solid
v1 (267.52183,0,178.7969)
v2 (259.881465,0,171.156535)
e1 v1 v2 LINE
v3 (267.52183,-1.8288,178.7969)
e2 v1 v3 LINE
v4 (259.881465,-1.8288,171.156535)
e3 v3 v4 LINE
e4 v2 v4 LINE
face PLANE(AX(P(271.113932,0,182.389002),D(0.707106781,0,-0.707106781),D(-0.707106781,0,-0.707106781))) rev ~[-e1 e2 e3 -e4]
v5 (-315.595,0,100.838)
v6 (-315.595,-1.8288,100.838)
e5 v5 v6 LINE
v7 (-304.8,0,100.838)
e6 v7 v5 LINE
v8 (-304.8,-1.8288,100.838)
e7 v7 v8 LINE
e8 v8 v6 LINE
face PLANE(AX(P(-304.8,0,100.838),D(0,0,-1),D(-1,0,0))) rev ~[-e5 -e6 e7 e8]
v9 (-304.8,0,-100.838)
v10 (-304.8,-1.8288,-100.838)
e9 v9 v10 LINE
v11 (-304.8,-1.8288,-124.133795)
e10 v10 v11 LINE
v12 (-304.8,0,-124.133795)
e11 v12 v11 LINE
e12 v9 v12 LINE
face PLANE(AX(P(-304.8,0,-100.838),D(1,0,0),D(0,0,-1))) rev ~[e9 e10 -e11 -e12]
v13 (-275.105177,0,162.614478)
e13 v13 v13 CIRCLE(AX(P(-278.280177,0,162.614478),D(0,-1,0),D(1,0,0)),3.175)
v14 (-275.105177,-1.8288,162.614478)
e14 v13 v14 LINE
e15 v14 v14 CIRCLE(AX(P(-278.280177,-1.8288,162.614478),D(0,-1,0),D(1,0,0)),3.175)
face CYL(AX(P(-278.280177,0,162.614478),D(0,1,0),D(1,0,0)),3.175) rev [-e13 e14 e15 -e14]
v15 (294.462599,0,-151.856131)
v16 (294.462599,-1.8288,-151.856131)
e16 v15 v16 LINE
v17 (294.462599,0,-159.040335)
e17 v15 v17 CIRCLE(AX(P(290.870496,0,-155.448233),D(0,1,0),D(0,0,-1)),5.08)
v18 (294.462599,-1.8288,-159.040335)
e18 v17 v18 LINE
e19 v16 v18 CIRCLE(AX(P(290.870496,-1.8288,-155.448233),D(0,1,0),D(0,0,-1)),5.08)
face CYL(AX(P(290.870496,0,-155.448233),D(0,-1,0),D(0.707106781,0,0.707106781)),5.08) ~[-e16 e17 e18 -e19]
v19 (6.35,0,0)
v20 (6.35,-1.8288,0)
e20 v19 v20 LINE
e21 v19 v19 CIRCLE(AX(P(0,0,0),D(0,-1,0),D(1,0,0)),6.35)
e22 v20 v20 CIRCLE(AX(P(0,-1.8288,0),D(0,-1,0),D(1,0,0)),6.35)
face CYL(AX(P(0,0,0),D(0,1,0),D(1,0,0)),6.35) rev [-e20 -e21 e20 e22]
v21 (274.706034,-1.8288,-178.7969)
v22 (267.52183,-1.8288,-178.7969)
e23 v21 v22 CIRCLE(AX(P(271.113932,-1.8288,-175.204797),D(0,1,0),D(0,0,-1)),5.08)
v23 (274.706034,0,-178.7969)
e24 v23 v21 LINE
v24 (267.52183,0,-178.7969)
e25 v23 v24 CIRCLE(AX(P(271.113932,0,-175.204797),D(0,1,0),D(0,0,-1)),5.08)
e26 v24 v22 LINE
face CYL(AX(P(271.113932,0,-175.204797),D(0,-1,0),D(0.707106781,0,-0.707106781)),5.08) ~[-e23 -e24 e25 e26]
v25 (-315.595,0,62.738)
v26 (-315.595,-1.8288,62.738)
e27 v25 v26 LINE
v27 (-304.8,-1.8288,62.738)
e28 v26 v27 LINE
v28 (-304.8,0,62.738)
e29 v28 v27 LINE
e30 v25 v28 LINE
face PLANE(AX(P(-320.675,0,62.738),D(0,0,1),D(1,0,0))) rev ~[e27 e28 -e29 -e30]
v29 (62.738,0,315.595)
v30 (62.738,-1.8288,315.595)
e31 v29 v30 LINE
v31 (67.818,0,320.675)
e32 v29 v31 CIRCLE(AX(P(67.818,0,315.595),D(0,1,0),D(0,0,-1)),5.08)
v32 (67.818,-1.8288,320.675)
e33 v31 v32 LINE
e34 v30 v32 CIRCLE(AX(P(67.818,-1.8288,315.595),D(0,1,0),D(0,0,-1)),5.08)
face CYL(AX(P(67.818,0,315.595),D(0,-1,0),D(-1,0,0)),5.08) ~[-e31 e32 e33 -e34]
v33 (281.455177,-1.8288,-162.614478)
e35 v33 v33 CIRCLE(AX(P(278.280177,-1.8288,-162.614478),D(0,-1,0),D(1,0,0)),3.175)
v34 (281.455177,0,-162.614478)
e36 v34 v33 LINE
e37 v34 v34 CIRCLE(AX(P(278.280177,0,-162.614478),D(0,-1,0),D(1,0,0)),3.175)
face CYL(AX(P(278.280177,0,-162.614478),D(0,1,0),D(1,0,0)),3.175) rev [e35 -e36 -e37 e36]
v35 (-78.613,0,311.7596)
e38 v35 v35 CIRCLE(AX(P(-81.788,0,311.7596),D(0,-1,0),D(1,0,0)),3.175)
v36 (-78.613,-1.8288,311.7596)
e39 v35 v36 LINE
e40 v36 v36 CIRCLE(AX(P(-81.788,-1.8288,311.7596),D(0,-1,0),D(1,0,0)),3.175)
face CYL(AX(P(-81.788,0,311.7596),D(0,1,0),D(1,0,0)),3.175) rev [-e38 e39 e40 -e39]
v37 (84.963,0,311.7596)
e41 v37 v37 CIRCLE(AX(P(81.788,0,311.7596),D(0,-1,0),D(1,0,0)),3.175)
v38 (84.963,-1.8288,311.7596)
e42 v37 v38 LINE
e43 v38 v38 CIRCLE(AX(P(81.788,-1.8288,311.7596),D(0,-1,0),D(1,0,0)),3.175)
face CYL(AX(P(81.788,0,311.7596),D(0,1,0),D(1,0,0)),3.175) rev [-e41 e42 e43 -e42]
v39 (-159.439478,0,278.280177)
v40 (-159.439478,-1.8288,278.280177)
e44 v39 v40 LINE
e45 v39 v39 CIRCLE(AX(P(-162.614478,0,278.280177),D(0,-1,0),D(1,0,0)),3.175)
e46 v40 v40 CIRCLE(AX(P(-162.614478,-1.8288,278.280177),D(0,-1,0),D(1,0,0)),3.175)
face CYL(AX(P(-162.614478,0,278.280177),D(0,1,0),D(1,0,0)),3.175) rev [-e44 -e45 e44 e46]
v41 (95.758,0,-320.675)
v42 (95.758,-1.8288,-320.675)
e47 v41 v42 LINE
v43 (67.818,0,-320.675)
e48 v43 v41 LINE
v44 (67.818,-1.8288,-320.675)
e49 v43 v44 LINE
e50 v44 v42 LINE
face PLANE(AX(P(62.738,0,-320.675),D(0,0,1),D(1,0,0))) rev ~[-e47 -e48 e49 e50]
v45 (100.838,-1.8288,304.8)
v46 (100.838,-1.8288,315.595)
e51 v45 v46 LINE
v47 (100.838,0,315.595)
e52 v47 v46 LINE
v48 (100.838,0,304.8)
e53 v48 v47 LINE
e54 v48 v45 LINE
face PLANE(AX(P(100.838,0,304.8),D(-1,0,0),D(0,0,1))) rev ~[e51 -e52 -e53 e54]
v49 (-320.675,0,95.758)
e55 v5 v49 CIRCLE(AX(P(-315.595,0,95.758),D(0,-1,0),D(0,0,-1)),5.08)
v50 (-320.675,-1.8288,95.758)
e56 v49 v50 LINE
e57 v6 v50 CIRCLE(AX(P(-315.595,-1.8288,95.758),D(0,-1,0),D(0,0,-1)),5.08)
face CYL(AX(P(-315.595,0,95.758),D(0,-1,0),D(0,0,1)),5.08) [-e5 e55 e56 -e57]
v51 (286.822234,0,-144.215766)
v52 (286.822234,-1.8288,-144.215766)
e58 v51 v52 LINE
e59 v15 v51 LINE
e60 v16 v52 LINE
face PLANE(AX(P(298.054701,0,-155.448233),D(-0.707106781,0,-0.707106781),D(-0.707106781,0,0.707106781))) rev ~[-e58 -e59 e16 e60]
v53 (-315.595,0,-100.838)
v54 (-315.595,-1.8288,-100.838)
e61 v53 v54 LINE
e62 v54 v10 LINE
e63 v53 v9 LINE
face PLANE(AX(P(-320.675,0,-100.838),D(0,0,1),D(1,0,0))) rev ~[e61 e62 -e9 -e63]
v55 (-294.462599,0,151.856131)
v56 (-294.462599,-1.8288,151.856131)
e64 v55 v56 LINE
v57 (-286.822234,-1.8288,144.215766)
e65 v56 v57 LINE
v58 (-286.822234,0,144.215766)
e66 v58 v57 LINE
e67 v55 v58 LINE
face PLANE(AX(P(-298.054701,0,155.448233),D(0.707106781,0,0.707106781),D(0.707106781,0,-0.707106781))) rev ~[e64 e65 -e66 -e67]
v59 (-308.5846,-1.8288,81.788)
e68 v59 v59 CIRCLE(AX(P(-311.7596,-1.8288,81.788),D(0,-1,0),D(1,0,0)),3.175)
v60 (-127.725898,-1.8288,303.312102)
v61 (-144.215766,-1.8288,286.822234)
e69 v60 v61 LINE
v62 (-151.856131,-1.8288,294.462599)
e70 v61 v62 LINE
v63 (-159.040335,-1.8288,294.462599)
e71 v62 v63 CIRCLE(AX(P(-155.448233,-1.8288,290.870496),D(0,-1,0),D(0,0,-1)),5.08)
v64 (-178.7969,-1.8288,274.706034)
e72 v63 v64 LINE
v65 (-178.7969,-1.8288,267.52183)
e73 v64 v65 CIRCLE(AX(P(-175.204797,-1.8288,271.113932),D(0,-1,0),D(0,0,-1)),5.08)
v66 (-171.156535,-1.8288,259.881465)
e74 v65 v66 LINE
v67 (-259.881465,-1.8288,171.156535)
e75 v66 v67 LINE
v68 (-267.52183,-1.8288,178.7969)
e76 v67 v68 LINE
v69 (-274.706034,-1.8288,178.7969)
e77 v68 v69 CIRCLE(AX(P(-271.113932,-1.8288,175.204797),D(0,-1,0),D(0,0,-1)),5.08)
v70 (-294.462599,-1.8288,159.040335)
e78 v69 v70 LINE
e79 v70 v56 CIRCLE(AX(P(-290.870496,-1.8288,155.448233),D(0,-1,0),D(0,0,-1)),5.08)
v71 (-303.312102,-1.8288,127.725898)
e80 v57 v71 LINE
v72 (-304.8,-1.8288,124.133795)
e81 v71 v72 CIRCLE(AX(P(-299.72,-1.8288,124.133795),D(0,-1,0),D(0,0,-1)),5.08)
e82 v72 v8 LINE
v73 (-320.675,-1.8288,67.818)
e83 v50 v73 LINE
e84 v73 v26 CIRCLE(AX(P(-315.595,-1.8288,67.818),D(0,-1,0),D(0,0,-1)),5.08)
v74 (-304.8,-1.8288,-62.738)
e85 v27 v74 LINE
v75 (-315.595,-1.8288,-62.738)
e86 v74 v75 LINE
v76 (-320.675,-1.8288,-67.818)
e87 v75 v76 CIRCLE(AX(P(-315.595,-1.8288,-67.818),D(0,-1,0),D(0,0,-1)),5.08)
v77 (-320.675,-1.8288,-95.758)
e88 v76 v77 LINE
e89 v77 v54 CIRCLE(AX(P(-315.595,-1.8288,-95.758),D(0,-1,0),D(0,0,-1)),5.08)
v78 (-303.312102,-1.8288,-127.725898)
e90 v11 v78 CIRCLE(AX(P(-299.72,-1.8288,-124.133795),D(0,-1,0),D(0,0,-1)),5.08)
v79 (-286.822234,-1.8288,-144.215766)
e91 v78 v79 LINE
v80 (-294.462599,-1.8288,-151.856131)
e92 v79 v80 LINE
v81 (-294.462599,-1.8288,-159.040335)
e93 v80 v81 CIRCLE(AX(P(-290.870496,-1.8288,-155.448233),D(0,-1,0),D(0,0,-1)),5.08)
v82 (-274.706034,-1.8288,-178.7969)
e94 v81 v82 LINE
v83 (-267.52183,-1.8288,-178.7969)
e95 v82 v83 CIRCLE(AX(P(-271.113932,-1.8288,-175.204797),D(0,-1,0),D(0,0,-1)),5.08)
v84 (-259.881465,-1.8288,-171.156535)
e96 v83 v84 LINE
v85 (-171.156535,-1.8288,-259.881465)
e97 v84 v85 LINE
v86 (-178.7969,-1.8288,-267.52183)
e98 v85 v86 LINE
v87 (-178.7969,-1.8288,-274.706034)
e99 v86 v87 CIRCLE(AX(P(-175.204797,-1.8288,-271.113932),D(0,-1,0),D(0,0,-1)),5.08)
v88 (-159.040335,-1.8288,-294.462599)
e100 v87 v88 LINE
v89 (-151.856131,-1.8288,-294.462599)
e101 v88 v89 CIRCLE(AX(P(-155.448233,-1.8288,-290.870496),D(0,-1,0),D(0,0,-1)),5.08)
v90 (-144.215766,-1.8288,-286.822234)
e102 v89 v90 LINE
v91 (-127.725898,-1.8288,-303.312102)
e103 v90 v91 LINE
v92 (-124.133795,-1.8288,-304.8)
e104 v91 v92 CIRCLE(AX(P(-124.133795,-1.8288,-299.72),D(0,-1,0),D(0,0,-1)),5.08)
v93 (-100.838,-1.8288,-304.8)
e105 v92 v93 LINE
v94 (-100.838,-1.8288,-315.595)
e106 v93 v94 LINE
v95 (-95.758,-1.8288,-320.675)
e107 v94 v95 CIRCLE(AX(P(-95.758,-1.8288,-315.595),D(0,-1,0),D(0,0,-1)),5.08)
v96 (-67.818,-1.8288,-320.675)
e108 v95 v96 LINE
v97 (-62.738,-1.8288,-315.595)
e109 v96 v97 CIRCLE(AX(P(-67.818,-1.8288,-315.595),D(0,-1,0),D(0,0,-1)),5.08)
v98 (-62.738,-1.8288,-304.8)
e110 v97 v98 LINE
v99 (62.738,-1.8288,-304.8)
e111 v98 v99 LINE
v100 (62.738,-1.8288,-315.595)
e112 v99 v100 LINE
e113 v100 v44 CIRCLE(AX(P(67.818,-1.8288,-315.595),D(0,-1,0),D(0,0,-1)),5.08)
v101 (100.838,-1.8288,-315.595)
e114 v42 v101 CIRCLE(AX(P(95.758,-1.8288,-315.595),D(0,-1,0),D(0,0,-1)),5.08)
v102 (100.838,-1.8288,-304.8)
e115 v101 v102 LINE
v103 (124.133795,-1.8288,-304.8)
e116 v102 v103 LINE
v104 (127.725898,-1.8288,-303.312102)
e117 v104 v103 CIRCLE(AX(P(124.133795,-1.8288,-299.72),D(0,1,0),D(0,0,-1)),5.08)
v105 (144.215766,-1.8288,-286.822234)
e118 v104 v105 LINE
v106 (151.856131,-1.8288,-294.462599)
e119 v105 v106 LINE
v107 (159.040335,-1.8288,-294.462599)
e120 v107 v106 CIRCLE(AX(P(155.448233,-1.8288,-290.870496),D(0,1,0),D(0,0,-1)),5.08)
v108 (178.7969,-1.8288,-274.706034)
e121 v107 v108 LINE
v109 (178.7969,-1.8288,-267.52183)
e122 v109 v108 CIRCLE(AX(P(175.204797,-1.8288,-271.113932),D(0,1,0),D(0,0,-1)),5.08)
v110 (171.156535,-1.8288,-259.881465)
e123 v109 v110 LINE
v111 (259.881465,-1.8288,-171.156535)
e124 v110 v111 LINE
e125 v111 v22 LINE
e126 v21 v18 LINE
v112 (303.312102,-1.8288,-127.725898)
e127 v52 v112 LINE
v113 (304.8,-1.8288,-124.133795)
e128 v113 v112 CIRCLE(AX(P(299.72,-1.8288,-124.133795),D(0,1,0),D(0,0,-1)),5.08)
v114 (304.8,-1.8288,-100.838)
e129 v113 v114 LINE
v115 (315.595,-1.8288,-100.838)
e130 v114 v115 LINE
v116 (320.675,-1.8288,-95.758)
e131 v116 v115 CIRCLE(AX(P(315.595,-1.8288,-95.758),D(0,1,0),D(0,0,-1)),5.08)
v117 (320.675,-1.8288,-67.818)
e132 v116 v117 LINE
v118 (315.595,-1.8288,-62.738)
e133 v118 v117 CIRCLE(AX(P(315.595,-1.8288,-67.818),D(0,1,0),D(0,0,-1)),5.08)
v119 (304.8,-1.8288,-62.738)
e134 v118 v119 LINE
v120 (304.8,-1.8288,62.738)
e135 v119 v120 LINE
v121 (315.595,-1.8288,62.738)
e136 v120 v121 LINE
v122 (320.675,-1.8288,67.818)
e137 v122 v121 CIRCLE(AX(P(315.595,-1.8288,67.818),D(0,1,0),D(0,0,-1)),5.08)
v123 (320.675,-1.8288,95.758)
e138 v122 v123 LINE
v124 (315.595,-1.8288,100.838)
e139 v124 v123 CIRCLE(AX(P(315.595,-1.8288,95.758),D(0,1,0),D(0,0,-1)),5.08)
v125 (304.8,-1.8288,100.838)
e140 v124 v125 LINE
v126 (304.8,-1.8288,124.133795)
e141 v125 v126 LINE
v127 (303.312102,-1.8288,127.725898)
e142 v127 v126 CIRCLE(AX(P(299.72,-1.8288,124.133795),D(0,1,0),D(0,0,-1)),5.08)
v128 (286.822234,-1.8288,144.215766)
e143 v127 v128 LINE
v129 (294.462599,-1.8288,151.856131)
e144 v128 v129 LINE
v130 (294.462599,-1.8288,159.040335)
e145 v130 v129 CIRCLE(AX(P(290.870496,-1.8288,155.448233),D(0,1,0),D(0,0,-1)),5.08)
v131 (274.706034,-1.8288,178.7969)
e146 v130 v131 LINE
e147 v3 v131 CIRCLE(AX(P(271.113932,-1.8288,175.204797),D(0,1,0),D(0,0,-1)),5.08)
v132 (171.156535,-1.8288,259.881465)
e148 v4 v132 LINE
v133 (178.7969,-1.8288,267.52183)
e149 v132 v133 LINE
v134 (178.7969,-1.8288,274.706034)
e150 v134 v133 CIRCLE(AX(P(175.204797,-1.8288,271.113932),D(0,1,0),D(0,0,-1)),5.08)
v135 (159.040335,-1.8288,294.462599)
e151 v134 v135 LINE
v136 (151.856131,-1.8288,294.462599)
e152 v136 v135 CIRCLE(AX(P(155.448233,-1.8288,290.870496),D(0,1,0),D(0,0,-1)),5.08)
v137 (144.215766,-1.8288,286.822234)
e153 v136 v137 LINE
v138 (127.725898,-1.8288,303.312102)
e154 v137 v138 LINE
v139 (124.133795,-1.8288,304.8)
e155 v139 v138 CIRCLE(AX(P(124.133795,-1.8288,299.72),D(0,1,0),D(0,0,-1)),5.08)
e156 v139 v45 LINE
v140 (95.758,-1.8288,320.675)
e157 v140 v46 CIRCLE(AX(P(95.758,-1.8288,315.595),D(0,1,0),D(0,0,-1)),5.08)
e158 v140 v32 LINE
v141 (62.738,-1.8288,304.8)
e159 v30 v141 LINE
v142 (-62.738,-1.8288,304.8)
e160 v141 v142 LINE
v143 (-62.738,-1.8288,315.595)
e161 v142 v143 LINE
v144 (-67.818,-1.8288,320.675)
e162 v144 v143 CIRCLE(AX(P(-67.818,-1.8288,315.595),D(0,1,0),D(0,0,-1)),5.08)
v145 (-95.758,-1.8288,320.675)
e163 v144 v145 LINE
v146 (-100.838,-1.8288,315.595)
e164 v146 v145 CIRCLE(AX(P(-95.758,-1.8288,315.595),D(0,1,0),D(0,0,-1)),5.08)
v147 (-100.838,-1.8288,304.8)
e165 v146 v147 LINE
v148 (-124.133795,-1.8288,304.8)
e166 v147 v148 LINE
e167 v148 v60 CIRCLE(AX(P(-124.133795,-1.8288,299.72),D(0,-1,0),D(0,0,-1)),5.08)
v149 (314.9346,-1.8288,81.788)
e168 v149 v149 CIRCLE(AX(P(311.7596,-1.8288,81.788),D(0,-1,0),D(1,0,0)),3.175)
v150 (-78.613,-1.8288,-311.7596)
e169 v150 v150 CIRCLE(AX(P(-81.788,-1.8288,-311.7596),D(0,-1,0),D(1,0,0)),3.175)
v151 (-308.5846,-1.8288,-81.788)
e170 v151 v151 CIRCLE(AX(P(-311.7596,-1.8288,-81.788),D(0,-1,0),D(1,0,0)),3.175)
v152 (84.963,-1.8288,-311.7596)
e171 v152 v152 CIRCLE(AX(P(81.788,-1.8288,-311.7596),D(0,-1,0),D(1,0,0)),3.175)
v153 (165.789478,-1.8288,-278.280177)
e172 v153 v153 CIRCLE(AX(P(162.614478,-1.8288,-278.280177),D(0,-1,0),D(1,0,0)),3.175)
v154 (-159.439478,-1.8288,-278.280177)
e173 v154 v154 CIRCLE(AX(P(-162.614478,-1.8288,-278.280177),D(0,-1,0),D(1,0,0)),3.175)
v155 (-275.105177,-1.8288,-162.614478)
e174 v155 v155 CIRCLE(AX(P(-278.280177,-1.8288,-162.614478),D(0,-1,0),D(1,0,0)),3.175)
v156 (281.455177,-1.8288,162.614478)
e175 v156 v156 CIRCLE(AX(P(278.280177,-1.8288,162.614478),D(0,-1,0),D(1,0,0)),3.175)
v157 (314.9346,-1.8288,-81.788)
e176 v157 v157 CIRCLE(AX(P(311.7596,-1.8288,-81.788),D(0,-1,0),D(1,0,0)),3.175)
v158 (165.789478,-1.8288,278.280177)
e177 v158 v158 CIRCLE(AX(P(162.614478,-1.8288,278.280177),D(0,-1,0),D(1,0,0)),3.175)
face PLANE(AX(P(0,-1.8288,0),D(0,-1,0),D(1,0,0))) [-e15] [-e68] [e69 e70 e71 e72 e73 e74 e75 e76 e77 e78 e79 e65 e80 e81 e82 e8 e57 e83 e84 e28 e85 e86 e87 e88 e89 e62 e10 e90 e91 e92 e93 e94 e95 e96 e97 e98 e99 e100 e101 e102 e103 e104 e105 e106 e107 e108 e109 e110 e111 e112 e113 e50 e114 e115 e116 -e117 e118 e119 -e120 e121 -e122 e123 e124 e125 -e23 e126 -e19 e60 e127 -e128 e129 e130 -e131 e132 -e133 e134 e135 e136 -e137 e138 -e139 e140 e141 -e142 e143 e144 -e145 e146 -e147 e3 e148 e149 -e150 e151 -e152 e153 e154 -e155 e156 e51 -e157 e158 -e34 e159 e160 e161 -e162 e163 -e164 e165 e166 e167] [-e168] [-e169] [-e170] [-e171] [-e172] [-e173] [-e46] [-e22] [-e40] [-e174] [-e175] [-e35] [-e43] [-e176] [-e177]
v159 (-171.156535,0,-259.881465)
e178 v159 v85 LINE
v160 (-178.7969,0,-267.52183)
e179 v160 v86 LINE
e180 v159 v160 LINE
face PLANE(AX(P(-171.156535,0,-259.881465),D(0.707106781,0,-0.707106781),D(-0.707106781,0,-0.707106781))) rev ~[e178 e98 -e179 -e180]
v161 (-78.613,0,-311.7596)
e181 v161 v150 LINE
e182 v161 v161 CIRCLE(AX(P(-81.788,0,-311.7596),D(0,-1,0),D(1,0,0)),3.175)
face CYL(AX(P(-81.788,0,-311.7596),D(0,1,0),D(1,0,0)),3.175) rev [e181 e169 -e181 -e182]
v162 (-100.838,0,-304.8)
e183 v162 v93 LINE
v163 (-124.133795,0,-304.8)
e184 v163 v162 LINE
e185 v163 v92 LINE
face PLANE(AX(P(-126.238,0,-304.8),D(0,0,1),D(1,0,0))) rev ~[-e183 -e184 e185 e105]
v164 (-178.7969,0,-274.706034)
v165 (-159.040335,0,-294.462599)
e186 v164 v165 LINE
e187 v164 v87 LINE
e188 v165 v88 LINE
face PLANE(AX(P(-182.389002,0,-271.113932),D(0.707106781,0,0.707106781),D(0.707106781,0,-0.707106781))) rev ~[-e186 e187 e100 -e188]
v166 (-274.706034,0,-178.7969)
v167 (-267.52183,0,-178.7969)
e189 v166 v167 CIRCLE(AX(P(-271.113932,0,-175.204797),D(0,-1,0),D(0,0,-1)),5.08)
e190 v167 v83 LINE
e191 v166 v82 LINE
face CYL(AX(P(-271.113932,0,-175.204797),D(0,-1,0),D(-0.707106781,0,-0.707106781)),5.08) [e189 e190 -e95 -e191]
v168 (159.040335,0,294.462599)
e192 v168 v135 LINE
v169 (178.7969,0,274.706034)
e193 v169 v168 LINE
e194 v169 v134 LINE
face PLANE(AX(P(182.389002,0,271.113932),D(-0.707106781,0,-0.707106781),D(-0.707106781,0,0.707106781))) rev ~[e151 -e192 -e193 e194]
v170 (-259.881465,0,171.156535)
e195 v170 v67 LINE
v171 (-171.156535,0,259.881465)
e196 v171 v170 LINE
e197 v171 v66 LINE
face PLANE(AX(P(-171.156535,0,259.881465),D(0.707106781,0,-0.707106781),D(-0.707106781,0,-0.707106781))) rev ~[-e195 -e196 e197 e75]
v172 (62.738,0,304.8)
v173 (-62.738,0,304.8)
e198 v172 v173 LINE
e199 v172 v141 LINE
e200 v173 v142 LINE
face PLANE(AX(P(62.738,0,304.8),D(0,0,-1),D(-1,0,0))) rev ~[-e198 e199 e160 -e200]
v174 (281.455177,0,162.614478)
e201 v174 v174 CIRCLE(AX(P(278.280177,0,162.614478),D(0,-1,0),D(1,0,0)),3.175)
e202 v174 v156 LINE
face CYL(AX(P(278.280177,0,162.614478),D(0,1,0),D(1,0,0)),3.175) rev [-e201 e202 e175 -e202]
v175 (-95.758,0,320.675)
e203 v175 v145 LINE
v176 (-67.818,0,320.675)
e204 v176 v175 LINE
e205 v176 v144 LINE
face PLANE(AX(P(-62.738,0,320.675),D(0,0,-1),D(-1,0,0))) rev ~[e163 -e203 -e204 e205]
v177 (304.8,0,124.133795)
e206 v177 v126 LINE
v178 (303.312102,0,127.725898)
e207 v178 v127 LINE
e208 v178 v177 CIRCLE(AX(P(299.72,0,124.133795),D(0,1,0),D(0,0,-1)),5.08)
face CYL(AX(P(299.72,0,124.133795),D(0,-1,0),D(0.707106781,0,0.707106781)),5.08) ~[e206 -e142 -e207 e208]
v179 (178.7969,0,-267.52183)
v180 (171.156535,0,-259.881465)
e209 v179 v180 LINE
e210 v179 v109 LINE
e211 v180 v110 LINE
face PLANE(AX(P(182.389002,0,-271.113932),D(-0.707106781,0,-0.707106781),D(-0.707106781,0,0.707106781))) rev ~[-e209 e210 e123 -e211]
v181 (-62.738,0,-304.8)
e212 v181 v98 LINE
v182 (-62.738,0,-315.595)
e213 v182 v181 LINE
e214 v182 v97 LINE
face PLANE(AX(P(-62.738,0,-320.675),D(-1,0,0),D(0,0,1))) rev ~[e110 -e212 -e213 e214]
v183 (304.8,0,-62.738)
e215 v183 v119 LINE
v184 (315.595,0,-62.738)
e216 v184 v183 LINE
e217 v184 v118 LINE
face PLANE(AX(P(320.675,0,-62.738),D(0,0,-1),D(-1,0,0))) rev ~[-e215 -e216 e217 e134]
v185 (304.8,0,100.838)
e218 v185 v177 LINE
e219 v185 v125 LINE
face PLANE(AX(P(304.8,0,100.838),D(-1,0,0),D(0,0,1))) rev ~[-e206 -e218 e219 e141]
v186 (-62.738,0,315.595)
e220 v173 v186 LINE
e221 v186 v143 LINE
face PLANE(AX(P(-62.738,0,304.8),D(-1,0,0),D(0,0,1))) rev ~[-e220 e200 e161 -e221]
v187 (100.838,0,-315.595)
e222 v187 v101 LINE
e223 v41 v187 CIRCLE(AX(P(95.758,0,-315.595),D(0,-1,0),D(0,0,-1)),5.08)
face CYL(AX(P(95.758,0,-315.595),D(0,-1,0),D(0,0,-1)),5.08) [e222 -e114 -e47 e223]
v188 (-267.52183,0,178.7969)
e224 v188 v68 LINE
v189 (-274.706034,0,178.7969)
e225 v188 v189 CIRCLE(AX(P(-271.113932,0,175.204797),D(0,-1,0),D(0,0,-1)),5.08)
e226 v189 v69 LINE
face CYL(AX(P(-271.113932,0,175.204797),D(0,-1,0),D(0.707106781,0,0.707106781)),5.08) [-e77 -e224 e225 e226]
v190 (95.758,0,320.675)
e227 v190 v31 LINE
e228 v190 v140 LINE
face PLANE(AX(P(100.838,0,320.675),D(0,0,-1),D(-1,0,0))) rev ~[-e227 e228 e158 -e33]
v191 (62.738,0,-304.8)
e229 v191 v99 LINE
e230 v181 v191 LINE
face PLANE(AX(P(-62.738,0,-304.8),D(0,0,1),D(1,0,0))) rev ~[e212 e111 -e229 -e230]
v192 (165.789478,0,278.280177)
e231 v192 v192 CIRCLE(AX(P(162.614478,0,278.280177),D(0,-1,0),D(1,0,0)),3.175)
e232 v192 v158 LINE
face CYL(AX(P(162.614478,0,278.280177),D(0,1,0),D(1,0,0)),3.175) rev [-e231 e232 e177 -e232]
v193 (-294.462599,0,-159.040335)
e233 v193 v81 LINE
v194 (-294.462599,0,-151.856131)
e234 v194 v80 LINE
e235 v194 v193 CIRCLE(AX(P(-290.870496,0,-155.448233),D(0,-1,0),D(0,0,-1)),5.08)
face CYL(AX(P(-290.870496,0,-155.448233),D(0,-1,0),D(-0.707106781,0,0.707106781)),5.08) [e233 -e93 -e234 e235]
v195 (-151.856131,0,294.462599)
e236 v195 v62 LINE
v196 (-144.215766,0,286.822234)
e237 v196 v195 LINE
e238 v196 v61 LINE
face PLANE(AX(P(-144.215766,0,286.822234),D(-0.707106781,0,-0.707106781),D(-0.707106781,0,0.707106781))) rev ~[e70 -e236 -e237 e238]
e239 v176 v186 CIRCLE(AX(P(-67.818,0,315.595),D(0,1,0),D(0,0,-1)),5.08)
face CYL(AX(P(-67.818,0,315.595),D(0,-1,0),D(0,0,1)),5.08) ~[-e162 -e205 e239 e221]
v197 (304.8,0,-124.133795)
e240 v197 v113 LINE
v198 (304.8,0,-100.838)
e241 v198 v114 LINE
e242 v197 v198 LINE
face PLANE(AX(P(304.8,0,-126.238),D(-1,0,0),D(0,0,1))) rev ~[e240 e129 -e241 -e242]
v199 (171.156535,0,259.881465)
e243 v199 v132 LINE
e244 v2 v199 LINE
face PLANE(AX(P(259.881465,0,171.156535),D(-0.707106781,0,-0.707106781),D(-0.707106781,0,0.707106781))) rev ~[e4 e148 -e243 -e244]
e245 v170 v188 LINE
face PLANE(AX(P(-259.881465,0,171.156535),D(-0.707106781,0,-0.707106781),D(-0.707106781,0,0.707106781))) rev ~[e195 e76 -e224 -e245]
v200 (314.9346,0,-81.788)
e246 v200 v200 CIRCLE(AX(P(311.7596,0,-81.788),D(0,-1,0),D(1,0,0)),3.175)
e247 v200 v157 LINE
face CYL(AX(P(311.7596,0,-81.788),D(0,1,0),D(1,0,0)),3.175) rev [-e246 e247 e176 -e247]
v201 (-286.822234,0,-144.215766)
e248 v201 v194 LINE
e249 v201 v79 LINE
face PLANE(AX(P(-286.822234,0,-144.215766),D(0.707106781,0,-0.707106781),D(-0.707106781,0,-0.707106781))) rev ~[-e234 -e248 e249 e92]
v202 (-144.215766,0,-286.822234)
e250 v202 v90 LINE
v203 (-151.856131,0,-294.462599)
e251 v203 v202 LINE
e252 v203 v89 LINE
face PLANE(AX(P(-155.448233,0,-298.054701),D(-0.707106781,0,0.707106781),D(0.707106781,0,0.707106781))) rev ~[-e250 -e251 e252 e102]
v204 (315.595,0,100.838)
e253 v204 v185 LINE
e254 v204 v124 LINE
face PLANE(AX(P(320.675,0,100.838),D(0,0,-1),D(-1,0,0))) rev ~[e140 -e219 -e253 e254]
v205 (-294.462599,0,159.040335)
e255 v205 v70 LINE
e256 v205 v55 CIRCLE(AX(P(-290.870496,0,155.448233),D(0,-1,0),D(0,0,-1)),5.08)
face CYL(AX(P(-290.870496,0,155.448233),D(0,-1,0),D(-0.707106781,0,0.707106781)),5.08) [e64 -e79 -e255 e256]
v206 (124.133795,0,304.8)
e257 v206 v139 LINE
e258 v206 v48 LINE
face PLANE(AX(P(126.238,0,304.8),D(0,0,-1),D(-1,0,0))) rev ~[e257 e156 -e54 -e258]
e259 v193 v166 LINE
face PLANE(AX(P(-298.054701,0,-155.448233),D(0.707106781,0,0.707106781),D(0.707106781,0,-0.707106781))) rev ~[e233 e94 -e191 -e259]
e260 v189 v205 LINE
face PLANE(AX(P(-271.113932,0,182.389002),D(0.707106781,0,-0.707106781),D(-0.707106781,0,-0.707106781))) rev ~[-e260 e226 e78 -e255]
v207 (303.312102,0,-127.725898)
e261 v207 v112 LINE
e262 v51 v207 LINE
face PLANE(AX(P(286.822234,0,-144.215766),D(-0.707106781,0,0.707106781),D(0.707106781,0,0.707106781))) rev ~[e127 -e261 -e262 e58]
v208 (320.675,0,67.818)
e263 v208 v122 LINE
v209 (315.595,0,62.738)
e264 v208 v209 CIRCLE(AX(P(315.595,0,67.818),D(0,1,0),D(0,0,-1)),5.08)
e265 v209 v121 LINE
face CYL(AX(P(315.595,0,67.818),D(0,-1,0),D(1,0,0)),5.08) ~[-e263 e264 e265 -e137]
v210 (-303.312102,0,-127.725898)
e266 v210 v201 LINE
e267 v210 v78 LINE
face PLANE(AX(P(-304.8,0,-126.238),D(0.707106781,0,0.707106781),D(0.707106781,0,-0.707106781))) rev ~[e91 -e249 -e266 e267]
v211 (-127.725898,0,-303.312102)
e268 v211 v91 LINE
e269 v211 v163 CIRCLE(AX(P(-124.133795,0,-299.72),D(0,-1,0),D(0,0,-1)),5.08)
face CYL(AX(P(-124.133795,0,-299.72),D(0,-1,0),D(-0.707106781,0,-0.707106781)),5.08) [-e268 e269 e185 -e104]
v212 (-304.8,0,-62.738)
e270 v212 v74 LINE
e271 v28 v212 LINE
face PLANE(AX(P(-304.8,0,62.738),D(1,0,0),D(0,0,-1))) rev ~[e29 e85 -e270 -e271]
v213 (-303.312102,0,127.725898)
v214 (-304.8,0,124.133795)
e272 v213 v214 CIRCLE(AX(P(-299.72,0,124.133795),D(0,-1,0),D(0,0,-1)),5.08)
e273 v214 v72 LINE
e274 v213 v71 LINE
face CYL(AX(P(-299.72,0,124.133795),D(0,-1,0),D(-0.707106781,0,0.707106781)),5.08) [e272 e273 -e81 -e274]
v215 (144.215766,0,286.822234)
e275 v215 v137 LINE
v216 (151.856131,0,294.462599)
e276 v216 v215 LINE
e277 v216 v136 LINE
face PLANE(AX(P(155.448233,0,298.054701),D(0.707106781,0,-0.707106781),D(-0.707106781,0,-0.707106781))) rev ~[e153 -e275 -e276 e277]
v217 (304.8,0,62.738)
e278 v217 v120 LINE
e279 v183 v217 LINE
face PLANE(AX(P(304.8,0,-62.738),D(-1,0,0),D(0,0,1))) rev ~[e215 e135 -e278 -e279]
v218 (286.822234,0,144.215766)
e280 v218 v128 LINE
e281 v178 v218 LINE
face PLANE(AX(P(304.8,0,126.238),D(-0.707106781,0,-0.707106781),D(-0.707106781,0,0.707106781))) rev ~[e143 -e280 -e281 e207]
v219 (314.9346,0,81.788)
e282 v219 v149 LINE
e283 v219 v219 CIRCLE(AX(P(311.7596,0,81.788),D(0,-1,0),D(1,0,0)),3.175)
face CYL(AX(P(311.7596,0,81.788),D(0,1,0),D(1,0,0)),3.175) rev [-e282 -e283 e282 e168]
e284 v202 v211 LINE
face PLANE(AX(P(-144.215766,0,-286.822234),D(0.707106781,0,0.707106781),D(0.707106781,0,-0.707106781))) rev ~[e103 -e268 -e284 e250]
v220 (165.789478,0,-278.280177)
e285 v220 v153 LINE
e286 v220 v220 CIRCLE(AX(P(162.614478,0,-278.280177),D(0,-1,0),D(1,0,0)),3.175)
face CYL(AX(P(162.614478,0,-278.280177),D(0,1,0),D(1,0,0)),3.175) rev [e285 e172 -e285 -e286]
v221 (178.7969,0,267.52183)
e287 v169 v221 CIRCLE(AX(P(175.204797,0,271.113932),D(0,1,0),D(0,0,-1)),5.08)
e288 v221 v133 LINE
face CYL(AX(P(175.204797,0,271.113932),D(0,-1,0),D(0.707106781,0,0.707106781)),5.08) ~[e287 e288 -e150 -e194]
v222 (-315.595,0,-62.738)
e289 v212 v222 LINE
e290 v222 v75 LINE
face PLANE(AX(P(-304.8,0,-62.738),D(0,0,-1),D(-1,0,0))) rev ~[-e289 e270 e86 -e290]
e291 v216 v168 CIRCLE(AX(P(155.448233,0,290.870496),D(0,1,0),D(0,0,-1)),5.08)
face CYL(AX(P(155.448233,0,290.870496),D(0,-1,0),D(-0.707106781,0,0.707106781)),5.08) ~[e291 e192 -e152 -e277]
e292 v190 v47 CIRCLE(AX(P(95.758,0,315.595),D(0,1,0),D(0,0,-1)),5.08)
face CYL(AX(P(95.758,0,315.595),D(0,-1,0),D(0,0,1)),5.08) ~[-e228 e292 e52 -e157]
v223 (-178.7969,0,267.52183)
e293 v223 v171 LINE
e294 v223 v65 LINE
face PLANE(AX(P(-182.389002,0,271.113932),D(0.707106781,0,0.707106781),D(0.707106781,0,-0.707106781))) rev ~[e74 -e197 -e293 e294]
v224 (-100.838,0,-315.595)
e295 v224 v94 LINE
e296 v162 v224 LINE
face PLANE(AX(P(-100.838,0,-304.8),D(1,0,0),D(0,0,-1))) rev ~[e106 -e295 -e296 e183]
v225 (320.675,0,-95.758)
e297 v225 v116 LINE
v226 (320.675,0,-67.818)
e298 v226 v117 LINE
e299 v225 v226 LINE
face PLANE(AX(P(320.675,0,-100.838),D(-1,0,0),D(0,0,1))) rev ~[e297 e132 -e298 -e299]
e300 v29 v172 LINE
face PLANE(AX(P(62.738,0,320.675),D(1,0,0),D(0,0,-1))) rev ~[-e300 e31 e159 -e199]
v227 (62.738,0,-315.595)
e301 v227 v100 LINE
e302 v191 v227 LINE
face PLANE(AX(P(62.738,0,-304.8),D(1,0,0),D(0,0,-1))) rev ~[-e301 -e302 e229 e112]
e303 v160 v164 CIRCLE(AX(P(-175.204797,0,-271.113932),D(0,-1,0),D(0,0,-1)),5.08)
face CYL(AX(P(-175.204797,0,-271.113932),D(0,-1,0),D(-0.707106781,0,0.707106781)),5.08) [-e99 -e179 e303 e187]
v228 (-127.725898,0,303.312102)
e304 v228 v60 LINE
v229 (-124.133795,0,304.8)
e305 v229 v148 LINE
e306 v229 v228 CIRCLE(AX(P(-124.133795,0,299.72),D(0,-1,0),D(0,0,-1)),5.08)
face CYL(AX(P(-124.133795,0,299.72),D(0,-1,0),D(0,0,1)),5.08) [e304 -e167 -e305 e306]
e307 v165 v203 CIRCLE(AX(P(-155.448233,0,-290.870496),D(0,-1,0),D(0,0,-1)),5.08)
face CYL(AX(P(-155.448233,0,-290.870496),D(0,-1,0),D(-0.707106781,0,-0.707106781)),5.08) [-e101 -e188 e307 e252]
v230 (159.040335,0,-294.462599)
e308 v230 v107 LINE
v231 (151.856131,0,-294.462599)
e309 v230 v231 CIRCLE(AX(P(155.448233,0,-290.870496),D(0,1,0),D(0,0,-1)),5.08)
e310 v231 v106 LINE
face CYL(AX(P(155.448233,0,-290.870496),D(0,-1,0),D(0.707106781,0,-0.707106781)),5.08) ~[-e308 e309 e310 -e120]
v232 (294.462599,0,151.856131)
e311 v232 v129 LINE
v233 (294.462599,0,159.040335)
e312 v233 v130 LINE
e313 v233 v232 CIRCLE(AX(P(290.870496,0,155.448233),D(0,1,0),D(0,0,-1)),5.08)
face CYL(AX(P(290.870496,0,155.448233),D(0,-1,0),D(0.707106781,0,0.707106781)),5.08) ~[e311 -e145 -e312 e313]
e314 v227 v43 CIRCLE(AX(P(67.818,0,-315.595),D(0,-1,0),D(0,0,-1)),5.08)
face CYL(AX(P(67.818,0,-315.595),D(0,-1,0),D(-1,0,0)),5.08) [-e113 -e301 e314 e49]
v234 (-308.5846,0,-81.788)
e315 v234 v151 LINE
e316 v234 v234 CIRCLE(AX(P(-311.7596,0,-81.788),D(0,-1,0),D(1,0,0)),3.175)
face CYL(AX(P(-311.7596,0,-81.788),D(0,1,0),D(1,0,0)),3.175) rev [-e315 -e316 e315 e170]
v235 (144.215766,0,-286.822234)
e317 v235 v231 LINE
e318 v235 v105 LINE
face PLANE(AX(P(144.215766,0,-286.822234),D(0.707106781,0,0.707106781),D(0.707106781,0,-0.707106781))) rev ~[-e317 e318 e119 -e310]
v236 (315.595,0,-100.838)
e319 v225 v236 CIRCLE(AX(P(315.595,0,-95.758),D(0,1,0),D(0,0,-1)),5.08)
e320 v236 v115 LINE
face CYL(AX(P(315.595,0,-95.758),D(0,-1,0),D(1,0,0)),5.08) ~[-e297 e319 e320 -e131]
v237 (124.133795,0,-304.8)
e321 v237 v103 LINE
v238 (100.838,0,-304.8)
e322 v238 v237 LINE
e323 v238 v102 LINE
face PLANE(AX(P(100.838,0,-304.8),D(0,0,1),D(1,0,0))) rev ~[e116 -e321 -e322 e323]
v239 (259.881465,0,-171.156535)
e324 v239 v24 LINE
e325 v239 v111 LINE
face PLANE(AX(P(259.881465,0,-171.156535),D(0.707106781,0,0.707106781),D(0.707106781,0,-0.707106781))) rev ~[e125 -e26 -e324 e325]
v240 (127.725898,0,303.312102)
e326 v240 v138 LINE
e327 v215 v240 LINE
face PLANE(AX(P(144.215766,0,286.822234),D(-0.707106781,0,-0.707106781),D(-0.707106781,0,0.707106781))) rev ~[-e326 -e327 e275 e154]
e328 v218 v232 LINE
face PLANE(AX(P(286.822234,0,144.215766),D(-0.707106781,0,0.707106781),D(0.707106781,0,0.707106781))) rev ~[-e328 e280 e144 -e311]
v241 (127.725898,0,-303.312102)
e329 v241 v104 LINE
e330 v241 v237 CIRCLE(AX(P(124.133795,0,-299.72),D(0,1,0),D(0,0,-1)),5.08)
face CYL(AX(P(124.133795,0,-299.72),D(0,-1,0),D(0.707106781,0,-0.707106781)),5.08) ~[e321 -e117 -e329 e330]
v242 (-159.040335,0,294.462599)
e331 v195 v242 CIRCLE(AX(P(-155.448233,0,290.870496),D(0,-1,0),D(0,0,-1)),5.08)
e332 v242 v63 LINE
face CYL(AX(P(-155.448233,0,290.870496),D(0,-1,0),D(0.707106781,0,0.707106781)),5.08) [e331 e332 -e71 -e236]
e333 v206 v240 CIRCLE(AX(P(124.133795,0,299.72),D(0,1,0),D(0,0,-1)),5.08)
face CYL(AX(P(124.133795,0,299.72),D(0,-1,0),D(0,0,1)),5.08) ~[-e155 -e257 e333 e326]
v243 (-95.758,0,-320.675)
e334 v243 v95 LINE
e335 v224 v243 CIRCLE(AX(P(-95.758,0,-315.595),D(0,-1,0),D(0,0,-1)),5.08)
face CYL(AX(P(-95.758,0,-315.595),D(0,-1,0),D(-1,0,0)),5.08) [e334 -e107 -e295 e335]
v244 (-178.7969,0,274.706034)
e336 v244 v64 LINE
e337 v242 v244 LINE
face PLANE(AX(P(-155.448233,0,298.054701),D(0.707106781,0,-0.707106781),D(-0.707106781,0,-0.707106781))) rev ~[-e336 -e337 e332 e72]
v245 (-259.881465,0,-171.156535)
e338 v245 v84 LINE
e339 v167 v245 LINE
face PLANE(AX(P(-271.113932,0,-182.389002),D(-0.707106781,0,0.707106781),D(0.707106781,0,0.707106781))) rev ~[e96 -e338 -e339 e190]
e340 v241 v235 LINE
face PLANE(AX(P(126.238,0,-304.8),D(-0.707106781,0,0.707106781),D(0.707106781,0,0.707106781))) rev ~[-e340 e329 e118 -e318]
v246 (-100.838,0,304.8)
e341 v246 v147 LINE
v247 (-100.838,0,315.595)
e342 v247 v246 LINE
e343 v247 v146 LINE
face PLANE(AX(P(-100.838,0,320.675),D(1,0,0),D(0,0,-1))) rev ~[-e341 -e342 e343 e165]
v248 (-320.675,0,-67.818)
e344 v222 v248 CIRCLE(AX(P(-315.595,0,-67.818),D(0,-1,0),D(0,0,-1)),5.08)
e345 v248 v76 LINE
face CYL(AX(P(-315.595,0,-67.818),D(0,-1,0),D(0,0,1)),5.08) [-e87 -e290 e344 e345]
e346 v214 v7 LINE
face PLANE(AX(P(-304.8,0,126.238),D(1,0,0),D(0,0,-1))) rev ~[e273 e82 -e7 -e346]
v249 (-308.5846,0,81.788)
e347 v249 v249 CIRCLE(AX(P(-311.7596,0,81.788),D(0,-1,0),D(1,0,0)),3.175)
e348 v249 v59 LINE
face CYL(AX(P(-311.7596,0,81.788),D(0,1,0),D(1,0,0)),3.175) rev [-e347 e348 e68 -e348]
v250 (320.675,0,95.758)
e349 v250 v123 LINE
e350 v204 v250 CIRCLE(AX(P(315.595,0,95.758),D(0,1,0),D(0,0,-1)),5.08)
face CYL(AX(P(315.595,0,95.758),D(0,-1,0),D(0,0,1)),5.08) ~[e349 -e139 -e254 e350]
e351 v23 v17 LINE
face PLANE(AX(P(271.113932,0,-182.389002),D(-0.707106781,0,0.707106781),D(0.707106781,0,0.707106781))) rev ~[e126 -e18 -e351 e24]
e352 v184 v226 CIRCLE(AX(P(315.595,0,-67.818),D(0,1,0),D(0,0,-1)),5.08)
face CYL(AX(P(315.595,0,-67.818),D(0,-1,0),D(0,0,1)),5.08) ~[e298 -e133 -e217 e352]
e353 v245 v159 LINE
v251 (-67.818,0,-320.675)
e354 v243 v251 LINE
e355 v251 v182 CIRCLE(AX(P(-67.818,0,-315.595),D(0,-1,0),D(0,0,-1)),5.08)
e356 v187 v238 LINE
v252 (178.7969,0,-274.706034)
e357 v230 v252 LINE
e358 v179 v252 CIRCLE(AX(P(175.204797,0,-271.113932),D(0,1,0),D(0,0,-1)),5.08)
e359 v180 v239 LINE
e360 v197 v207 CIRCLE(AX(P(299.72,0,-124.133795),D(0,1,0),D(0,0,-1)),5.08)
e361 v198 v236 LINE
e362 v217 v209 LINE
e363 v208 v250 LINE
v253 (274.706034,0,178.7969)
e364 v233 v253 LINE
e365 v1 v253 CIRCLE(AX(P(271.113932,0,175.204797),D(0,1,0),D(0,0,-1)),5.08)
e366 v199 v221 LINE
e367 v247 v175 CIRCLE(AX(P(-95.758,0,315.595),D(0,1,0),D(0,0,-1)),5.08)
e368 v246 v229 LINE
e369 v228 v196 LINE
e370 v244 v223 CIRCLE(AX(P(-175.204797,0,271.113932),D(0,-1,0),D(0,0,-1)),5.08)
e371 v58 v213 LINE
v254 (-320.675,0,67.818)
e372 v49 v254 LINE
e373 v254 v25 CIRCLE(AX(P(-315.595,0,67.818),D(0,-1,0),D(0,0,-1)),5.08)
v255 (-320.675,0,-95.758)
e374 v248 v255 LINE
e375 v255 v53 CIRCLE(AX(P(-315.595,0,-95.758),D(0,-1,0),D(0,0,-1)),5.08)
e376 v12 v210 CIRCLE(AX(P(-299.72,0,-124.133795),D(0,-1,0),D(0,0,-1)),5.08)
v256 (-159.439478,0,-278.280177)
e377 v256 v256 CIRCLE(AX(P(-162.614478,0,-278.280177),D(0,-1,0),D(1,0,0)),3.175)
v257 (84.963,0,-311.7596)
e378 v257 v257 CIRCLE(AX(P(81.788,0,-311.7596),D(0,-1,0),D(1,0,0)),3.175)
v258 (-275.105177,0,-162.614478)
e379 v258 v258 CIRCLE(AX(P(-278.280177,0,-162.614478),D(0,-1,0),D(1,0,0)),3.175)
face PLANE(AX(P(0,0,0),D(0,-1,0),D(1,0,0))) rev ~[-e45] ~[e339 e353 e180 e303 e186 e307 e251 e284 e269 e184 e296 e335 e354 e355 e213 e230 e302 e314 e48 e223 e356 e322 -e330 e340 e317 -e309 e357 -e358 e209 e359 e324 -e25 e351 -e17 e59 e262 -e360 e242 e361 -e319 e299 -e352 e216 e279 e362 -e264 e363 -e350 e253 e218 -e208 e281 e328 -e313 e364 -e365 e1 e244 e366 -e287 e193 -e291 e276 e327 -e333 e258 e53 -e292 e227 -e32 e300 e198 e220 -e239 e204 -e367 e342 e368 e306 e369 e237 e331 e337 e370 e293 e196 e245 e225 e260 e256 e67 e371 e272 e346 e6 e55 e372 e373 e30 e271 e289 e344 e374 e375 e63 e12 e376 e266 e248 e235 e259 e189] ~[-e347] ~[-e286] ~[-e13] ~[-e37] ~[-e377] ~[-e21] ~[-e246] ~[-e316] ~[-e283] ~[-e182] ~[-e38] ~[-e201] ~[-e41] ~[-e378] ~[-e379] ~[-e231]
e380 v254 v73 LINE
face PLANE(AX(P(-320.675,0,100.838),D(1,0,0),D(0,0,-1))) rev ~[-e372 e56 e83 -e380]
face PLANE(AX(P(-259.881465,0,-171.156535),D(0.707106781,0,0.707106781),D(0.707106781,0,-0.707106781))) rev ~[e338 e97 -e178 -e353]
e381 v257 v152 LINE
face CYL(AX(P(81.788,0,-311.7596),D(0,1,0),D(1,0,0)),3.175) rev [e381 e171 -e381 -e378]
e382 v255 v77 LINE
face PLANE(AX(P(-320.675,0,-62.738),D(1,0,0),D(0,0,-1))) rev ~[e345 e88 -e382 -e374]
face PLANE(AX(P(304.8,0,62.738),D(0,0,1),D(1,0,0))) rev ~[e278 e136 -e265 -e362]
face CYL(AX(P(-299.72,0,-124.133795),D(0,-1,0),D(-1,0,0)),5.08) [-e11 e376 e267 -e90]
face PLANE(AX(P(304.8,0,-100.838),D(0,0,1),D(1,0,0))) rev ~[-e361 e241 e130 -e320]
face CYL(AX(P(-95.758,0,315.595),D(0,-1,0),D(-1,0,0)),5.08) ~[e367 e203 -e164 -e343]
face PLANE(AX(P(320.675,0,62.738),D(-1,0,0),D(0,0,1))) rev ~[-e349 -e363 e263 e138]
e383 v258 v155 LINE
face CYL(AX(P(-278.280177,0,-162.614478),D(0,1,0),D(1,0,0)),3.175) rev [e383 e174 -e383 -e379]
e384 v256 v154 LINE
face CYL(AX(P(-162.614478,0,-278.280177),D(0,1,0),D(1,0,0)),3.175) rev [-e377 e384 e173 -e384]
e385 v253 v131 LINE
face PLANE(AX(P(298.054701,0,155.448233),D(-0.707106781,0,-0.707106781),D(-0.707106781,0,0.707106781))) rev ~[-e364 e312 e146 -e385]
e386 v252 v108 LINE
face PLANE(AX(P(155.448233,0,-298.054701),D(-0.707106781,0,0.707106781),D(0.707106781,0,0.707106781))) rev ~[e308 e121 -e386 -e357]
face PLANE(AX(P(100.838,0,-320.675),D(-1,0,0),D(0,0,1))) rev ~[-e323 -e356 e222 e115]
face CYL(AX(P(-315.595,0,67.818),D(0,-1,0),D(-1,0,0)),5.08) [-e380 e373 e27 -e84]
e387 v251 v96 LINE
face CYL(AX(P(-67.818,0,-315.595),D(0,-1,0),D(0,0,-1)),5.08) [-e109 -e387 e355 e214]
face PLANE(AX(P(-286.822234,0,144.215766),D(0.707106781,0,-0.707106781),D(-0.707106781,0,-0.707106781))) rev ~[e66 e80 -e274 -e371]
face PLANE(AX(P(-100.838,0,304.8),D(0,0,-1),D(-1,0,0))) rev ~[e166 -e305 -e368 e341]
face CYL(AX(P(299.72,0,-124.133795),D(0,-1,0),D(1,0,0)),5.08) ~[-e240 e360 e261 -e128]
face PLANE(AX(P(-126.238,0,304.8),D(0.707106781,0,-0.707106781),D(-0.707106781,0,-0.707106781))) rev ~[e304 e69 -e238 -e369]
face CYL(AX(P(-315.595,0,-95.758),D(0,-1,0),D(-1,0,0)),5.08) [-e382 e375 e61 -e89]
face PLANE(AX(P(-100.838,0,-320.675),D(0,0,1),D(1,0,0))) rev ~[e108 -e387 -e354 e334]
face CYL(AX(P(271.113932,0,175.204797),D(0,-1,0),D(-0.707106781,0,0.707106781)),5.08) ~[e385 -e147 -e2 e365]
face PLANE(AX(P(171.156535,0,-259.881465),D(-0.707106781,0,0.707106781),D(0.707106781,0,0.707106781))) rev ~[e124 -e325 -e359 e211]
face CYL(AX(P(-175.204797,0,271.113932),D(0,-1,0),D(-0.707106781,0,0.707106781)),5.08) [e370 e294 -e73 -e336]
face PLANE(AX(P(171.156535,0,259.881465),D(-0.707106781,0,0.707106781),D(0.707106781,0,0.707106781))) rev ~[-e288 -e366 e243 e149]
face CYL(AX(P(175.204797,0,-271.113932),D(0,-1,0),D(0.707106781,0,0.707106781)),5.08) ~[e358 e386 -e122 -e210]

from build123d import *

# Parameters (mm, degrees)
F0_R     = 3.175
F0_R_2   = 6.35
F1_DEPTH = 1.8288
F2_R     = 5.08


with BuildPart() as f1:
    # F0 (on Front) → F1 (new body)
    with BuildSketch(Plane.XZ):
        Polygon((-100.838, 304.8), (-126.238, 304.8), (-144.215766, 286.822234), (-155.448233, 298.054701), (-182.389002, 271.113932), (-171.156535, 259.881465), (-259.881465, 171.156535), (-271.113932, 182.389002), (-298.054701, 155.448233), (-286.822234, 144.215766), (-304.8, 126.238), (-304.8, 100.838), (-320.675, 100.838), (-320.675, 62.738), (-304.8, 62.738), (-304.8, -62.738), (-320.675, -62.738), (-320.675, -100.838), (-304.8, -100.838), (-304.8, -126.238), (-286.822234, -144.215766), (-298.054701, -155.448233), (-271.113932, -182.389002), (-259.881465, -171.156535), (-171.156535, -259.881465), (-182.389002, -271.113932), (-155.448233, -298.054701), (-144.215766, -286.822234), (-126.238, -304.8), (-100.838, -304.8), (-100.838, -320.675), (-62.738, -320.675), (-62.738, -304.8), (62.738, -304.8), (62.738, -320.675), (100.838, -320.675), (100.838, -304.8), (126.238, -304.8), (144.215766, -286.822234), (155.448233, -298.054701), (182.389002, -271.113932), (171.156535, -259.881465), (259.881465, -171.156535), (271.113932, -182.389002), (298.054701, -155.448233), (286.822234, -144.215766), (304.8, -126.238), (304.8, -100.838), (320.675, -100.838), (320.675, -62.738), (304.8, -62.738), (304.8, 62.738), (320.675, 62.738), (320.675, 100.838), (304.8, 100.838), (304.8, 126.238), (286.822234, 144.215766), (298.054701, 155.448233), (271.113932, 182.389002), (259.881465, 171.156535), (171.156535, 259.881465), (182.389002, 271.113932), (155.448233, 298.054701), (144.215766, 286.822234), (126.238, 304.8), (100.838, 304.8), (100.838, 320.675), (62.738, 320.675), (62.738, 304.8), (-62.738, 304.8), (-62.738, 320.675), (-100.838, 320.675), align=None)
        with Locations((-162.614478, -278.280177)):
            Circle(F0_R, mode=Mode.SUBTRACT)
        with Locations((-278.280177, -162.614478)):
            Circle(F0_R, mode=Mode.SUBTRACT)
        with Locations((-81.788, -311.7596)):
            Circle(F0_R, mode=Mode.SUBTRACT)
        with Locations((-311.7596, -81.788)):
            Circle(F0_R, mode=Mode.SUBTRACT)
        with Locations((81.788, -311.7596)):
            Circle(F0_R, mode=Mode.SUBTRACT)
        with Locations((162.614478, -278.280177)):
            Circle(F0_R, mode=Mode.SUBTRACT)
        with Locations((278.280177, -162.614478)):
            Circle(F0_R, mode=Mode.SUBTRACT)
        with Locations((311.7596, -81.788)):
            Circle(F0_R, mode=Mode.SUBTRACT)
        with Locations((-311.7596, 81.788)):
            Circle(F0_R, mode=Mode.SUBTRACT)
        with Locations((-278.280177, 162.614478)):
            Circle(F0_R, mode=Mode.SUBTRACT)
        with Locations((-162.614478, 278.280177)):
            Circle(F0_R, mode=Mode.SUBTRACT)
        with Locations((-81.788, 311.7596)):
            Circle(F0_R, mode=Mode.SUBTRACT)
        Circle(F0_R_2, mode=Mode.SUBTRACT)
        with Locations((311.7596, 81.788)):
            Circle(F0_R, mode=Mode.SUBTRACT)
        with Locations((81.788, 311.7596)):
            Circle(F0_R, mode=Mode.SUBTRACT)
        with Locations((278.280177, 162.614478)):
            Circle(F0_R, mode=Mode.SUBTRACT)
        with Locations((162.614478, 278.280177)):
            Circle(F0_R, mode=Mode.SUBTRACT)
    extrude(amount=F1_DEPTH)

    # F2
    f2_edges = [f1.edges().sort_by_distance(p)[0] for p in [
        (-271.113932, -0.9144, 182.389002),
        (-298.054701, -0.9144, 155.448233),
        (-182.389002, -0.9144, 271.113932),
        (-155.448233, -0.9144, 298.054701),
        (-100.838, -0.9144, 320.675),
        (-62.738, -0.9144, 320.675),
        (62.738, -0.9144, 320.675),
        (100.838, -0.9144, 320.675),
        (155.448233, -0.9144, 298.054701),
        (182.389002, -0.9144, 271.113932),
        (271.113932, -0.9144, 182.389002),
        (298.054701, -0.9144, 155.448233),
        (320.675, -0.9144, 100.838),
        (320.675, -0.9144, 62.738),
        (320.675, -0.9144, -62.738),
        (320.675, -0.9144, -100.838),
        (298.054701, -0.9144, -155.448233),
        (271.113932, -0.9144, -182.389002),
        (182.389002, -0.9144, -271.113932),
        (155.448233, -0.9144, -298.054701),
        (100.838, -0.9144, -320.675),
        (62.738, -0.9144, -320.675),
        (-62.738, -0.9144, -320.675),
        (-100.838, -0.9144, -320.675),
        (-155.448233, -0.9144, -298.054701),
        (-182.389002, -0.9144, -271.113932),
        (-271.113932, -0.9144, -182.389002),
        (-298.054701, -0.9144, -155.448233),
        (-320.675, -0.9144, -100.838),
        (-320.675, -0.9144, -62.738),
        (-320.675, -0.9144, 62.738),
        (-320.675, -0.9144, 100.838),
        (126.238, -0.9144, 304.8),
        (304.8, -0.9144, 126.238),
        (304.8, -0.9144, -126.238),
        (126.238, -0.9144, -304.8),
        (-126.238, -0.9144, -304.8),
        (-304.8, -0.9144, -126.238),
        (-304.8, -0.9144, 126.238),
        (-126.238, -0.9144, 304.8),
    ]]
    fillet(f2_edges, radius=F2_R)


solid = f1.part
